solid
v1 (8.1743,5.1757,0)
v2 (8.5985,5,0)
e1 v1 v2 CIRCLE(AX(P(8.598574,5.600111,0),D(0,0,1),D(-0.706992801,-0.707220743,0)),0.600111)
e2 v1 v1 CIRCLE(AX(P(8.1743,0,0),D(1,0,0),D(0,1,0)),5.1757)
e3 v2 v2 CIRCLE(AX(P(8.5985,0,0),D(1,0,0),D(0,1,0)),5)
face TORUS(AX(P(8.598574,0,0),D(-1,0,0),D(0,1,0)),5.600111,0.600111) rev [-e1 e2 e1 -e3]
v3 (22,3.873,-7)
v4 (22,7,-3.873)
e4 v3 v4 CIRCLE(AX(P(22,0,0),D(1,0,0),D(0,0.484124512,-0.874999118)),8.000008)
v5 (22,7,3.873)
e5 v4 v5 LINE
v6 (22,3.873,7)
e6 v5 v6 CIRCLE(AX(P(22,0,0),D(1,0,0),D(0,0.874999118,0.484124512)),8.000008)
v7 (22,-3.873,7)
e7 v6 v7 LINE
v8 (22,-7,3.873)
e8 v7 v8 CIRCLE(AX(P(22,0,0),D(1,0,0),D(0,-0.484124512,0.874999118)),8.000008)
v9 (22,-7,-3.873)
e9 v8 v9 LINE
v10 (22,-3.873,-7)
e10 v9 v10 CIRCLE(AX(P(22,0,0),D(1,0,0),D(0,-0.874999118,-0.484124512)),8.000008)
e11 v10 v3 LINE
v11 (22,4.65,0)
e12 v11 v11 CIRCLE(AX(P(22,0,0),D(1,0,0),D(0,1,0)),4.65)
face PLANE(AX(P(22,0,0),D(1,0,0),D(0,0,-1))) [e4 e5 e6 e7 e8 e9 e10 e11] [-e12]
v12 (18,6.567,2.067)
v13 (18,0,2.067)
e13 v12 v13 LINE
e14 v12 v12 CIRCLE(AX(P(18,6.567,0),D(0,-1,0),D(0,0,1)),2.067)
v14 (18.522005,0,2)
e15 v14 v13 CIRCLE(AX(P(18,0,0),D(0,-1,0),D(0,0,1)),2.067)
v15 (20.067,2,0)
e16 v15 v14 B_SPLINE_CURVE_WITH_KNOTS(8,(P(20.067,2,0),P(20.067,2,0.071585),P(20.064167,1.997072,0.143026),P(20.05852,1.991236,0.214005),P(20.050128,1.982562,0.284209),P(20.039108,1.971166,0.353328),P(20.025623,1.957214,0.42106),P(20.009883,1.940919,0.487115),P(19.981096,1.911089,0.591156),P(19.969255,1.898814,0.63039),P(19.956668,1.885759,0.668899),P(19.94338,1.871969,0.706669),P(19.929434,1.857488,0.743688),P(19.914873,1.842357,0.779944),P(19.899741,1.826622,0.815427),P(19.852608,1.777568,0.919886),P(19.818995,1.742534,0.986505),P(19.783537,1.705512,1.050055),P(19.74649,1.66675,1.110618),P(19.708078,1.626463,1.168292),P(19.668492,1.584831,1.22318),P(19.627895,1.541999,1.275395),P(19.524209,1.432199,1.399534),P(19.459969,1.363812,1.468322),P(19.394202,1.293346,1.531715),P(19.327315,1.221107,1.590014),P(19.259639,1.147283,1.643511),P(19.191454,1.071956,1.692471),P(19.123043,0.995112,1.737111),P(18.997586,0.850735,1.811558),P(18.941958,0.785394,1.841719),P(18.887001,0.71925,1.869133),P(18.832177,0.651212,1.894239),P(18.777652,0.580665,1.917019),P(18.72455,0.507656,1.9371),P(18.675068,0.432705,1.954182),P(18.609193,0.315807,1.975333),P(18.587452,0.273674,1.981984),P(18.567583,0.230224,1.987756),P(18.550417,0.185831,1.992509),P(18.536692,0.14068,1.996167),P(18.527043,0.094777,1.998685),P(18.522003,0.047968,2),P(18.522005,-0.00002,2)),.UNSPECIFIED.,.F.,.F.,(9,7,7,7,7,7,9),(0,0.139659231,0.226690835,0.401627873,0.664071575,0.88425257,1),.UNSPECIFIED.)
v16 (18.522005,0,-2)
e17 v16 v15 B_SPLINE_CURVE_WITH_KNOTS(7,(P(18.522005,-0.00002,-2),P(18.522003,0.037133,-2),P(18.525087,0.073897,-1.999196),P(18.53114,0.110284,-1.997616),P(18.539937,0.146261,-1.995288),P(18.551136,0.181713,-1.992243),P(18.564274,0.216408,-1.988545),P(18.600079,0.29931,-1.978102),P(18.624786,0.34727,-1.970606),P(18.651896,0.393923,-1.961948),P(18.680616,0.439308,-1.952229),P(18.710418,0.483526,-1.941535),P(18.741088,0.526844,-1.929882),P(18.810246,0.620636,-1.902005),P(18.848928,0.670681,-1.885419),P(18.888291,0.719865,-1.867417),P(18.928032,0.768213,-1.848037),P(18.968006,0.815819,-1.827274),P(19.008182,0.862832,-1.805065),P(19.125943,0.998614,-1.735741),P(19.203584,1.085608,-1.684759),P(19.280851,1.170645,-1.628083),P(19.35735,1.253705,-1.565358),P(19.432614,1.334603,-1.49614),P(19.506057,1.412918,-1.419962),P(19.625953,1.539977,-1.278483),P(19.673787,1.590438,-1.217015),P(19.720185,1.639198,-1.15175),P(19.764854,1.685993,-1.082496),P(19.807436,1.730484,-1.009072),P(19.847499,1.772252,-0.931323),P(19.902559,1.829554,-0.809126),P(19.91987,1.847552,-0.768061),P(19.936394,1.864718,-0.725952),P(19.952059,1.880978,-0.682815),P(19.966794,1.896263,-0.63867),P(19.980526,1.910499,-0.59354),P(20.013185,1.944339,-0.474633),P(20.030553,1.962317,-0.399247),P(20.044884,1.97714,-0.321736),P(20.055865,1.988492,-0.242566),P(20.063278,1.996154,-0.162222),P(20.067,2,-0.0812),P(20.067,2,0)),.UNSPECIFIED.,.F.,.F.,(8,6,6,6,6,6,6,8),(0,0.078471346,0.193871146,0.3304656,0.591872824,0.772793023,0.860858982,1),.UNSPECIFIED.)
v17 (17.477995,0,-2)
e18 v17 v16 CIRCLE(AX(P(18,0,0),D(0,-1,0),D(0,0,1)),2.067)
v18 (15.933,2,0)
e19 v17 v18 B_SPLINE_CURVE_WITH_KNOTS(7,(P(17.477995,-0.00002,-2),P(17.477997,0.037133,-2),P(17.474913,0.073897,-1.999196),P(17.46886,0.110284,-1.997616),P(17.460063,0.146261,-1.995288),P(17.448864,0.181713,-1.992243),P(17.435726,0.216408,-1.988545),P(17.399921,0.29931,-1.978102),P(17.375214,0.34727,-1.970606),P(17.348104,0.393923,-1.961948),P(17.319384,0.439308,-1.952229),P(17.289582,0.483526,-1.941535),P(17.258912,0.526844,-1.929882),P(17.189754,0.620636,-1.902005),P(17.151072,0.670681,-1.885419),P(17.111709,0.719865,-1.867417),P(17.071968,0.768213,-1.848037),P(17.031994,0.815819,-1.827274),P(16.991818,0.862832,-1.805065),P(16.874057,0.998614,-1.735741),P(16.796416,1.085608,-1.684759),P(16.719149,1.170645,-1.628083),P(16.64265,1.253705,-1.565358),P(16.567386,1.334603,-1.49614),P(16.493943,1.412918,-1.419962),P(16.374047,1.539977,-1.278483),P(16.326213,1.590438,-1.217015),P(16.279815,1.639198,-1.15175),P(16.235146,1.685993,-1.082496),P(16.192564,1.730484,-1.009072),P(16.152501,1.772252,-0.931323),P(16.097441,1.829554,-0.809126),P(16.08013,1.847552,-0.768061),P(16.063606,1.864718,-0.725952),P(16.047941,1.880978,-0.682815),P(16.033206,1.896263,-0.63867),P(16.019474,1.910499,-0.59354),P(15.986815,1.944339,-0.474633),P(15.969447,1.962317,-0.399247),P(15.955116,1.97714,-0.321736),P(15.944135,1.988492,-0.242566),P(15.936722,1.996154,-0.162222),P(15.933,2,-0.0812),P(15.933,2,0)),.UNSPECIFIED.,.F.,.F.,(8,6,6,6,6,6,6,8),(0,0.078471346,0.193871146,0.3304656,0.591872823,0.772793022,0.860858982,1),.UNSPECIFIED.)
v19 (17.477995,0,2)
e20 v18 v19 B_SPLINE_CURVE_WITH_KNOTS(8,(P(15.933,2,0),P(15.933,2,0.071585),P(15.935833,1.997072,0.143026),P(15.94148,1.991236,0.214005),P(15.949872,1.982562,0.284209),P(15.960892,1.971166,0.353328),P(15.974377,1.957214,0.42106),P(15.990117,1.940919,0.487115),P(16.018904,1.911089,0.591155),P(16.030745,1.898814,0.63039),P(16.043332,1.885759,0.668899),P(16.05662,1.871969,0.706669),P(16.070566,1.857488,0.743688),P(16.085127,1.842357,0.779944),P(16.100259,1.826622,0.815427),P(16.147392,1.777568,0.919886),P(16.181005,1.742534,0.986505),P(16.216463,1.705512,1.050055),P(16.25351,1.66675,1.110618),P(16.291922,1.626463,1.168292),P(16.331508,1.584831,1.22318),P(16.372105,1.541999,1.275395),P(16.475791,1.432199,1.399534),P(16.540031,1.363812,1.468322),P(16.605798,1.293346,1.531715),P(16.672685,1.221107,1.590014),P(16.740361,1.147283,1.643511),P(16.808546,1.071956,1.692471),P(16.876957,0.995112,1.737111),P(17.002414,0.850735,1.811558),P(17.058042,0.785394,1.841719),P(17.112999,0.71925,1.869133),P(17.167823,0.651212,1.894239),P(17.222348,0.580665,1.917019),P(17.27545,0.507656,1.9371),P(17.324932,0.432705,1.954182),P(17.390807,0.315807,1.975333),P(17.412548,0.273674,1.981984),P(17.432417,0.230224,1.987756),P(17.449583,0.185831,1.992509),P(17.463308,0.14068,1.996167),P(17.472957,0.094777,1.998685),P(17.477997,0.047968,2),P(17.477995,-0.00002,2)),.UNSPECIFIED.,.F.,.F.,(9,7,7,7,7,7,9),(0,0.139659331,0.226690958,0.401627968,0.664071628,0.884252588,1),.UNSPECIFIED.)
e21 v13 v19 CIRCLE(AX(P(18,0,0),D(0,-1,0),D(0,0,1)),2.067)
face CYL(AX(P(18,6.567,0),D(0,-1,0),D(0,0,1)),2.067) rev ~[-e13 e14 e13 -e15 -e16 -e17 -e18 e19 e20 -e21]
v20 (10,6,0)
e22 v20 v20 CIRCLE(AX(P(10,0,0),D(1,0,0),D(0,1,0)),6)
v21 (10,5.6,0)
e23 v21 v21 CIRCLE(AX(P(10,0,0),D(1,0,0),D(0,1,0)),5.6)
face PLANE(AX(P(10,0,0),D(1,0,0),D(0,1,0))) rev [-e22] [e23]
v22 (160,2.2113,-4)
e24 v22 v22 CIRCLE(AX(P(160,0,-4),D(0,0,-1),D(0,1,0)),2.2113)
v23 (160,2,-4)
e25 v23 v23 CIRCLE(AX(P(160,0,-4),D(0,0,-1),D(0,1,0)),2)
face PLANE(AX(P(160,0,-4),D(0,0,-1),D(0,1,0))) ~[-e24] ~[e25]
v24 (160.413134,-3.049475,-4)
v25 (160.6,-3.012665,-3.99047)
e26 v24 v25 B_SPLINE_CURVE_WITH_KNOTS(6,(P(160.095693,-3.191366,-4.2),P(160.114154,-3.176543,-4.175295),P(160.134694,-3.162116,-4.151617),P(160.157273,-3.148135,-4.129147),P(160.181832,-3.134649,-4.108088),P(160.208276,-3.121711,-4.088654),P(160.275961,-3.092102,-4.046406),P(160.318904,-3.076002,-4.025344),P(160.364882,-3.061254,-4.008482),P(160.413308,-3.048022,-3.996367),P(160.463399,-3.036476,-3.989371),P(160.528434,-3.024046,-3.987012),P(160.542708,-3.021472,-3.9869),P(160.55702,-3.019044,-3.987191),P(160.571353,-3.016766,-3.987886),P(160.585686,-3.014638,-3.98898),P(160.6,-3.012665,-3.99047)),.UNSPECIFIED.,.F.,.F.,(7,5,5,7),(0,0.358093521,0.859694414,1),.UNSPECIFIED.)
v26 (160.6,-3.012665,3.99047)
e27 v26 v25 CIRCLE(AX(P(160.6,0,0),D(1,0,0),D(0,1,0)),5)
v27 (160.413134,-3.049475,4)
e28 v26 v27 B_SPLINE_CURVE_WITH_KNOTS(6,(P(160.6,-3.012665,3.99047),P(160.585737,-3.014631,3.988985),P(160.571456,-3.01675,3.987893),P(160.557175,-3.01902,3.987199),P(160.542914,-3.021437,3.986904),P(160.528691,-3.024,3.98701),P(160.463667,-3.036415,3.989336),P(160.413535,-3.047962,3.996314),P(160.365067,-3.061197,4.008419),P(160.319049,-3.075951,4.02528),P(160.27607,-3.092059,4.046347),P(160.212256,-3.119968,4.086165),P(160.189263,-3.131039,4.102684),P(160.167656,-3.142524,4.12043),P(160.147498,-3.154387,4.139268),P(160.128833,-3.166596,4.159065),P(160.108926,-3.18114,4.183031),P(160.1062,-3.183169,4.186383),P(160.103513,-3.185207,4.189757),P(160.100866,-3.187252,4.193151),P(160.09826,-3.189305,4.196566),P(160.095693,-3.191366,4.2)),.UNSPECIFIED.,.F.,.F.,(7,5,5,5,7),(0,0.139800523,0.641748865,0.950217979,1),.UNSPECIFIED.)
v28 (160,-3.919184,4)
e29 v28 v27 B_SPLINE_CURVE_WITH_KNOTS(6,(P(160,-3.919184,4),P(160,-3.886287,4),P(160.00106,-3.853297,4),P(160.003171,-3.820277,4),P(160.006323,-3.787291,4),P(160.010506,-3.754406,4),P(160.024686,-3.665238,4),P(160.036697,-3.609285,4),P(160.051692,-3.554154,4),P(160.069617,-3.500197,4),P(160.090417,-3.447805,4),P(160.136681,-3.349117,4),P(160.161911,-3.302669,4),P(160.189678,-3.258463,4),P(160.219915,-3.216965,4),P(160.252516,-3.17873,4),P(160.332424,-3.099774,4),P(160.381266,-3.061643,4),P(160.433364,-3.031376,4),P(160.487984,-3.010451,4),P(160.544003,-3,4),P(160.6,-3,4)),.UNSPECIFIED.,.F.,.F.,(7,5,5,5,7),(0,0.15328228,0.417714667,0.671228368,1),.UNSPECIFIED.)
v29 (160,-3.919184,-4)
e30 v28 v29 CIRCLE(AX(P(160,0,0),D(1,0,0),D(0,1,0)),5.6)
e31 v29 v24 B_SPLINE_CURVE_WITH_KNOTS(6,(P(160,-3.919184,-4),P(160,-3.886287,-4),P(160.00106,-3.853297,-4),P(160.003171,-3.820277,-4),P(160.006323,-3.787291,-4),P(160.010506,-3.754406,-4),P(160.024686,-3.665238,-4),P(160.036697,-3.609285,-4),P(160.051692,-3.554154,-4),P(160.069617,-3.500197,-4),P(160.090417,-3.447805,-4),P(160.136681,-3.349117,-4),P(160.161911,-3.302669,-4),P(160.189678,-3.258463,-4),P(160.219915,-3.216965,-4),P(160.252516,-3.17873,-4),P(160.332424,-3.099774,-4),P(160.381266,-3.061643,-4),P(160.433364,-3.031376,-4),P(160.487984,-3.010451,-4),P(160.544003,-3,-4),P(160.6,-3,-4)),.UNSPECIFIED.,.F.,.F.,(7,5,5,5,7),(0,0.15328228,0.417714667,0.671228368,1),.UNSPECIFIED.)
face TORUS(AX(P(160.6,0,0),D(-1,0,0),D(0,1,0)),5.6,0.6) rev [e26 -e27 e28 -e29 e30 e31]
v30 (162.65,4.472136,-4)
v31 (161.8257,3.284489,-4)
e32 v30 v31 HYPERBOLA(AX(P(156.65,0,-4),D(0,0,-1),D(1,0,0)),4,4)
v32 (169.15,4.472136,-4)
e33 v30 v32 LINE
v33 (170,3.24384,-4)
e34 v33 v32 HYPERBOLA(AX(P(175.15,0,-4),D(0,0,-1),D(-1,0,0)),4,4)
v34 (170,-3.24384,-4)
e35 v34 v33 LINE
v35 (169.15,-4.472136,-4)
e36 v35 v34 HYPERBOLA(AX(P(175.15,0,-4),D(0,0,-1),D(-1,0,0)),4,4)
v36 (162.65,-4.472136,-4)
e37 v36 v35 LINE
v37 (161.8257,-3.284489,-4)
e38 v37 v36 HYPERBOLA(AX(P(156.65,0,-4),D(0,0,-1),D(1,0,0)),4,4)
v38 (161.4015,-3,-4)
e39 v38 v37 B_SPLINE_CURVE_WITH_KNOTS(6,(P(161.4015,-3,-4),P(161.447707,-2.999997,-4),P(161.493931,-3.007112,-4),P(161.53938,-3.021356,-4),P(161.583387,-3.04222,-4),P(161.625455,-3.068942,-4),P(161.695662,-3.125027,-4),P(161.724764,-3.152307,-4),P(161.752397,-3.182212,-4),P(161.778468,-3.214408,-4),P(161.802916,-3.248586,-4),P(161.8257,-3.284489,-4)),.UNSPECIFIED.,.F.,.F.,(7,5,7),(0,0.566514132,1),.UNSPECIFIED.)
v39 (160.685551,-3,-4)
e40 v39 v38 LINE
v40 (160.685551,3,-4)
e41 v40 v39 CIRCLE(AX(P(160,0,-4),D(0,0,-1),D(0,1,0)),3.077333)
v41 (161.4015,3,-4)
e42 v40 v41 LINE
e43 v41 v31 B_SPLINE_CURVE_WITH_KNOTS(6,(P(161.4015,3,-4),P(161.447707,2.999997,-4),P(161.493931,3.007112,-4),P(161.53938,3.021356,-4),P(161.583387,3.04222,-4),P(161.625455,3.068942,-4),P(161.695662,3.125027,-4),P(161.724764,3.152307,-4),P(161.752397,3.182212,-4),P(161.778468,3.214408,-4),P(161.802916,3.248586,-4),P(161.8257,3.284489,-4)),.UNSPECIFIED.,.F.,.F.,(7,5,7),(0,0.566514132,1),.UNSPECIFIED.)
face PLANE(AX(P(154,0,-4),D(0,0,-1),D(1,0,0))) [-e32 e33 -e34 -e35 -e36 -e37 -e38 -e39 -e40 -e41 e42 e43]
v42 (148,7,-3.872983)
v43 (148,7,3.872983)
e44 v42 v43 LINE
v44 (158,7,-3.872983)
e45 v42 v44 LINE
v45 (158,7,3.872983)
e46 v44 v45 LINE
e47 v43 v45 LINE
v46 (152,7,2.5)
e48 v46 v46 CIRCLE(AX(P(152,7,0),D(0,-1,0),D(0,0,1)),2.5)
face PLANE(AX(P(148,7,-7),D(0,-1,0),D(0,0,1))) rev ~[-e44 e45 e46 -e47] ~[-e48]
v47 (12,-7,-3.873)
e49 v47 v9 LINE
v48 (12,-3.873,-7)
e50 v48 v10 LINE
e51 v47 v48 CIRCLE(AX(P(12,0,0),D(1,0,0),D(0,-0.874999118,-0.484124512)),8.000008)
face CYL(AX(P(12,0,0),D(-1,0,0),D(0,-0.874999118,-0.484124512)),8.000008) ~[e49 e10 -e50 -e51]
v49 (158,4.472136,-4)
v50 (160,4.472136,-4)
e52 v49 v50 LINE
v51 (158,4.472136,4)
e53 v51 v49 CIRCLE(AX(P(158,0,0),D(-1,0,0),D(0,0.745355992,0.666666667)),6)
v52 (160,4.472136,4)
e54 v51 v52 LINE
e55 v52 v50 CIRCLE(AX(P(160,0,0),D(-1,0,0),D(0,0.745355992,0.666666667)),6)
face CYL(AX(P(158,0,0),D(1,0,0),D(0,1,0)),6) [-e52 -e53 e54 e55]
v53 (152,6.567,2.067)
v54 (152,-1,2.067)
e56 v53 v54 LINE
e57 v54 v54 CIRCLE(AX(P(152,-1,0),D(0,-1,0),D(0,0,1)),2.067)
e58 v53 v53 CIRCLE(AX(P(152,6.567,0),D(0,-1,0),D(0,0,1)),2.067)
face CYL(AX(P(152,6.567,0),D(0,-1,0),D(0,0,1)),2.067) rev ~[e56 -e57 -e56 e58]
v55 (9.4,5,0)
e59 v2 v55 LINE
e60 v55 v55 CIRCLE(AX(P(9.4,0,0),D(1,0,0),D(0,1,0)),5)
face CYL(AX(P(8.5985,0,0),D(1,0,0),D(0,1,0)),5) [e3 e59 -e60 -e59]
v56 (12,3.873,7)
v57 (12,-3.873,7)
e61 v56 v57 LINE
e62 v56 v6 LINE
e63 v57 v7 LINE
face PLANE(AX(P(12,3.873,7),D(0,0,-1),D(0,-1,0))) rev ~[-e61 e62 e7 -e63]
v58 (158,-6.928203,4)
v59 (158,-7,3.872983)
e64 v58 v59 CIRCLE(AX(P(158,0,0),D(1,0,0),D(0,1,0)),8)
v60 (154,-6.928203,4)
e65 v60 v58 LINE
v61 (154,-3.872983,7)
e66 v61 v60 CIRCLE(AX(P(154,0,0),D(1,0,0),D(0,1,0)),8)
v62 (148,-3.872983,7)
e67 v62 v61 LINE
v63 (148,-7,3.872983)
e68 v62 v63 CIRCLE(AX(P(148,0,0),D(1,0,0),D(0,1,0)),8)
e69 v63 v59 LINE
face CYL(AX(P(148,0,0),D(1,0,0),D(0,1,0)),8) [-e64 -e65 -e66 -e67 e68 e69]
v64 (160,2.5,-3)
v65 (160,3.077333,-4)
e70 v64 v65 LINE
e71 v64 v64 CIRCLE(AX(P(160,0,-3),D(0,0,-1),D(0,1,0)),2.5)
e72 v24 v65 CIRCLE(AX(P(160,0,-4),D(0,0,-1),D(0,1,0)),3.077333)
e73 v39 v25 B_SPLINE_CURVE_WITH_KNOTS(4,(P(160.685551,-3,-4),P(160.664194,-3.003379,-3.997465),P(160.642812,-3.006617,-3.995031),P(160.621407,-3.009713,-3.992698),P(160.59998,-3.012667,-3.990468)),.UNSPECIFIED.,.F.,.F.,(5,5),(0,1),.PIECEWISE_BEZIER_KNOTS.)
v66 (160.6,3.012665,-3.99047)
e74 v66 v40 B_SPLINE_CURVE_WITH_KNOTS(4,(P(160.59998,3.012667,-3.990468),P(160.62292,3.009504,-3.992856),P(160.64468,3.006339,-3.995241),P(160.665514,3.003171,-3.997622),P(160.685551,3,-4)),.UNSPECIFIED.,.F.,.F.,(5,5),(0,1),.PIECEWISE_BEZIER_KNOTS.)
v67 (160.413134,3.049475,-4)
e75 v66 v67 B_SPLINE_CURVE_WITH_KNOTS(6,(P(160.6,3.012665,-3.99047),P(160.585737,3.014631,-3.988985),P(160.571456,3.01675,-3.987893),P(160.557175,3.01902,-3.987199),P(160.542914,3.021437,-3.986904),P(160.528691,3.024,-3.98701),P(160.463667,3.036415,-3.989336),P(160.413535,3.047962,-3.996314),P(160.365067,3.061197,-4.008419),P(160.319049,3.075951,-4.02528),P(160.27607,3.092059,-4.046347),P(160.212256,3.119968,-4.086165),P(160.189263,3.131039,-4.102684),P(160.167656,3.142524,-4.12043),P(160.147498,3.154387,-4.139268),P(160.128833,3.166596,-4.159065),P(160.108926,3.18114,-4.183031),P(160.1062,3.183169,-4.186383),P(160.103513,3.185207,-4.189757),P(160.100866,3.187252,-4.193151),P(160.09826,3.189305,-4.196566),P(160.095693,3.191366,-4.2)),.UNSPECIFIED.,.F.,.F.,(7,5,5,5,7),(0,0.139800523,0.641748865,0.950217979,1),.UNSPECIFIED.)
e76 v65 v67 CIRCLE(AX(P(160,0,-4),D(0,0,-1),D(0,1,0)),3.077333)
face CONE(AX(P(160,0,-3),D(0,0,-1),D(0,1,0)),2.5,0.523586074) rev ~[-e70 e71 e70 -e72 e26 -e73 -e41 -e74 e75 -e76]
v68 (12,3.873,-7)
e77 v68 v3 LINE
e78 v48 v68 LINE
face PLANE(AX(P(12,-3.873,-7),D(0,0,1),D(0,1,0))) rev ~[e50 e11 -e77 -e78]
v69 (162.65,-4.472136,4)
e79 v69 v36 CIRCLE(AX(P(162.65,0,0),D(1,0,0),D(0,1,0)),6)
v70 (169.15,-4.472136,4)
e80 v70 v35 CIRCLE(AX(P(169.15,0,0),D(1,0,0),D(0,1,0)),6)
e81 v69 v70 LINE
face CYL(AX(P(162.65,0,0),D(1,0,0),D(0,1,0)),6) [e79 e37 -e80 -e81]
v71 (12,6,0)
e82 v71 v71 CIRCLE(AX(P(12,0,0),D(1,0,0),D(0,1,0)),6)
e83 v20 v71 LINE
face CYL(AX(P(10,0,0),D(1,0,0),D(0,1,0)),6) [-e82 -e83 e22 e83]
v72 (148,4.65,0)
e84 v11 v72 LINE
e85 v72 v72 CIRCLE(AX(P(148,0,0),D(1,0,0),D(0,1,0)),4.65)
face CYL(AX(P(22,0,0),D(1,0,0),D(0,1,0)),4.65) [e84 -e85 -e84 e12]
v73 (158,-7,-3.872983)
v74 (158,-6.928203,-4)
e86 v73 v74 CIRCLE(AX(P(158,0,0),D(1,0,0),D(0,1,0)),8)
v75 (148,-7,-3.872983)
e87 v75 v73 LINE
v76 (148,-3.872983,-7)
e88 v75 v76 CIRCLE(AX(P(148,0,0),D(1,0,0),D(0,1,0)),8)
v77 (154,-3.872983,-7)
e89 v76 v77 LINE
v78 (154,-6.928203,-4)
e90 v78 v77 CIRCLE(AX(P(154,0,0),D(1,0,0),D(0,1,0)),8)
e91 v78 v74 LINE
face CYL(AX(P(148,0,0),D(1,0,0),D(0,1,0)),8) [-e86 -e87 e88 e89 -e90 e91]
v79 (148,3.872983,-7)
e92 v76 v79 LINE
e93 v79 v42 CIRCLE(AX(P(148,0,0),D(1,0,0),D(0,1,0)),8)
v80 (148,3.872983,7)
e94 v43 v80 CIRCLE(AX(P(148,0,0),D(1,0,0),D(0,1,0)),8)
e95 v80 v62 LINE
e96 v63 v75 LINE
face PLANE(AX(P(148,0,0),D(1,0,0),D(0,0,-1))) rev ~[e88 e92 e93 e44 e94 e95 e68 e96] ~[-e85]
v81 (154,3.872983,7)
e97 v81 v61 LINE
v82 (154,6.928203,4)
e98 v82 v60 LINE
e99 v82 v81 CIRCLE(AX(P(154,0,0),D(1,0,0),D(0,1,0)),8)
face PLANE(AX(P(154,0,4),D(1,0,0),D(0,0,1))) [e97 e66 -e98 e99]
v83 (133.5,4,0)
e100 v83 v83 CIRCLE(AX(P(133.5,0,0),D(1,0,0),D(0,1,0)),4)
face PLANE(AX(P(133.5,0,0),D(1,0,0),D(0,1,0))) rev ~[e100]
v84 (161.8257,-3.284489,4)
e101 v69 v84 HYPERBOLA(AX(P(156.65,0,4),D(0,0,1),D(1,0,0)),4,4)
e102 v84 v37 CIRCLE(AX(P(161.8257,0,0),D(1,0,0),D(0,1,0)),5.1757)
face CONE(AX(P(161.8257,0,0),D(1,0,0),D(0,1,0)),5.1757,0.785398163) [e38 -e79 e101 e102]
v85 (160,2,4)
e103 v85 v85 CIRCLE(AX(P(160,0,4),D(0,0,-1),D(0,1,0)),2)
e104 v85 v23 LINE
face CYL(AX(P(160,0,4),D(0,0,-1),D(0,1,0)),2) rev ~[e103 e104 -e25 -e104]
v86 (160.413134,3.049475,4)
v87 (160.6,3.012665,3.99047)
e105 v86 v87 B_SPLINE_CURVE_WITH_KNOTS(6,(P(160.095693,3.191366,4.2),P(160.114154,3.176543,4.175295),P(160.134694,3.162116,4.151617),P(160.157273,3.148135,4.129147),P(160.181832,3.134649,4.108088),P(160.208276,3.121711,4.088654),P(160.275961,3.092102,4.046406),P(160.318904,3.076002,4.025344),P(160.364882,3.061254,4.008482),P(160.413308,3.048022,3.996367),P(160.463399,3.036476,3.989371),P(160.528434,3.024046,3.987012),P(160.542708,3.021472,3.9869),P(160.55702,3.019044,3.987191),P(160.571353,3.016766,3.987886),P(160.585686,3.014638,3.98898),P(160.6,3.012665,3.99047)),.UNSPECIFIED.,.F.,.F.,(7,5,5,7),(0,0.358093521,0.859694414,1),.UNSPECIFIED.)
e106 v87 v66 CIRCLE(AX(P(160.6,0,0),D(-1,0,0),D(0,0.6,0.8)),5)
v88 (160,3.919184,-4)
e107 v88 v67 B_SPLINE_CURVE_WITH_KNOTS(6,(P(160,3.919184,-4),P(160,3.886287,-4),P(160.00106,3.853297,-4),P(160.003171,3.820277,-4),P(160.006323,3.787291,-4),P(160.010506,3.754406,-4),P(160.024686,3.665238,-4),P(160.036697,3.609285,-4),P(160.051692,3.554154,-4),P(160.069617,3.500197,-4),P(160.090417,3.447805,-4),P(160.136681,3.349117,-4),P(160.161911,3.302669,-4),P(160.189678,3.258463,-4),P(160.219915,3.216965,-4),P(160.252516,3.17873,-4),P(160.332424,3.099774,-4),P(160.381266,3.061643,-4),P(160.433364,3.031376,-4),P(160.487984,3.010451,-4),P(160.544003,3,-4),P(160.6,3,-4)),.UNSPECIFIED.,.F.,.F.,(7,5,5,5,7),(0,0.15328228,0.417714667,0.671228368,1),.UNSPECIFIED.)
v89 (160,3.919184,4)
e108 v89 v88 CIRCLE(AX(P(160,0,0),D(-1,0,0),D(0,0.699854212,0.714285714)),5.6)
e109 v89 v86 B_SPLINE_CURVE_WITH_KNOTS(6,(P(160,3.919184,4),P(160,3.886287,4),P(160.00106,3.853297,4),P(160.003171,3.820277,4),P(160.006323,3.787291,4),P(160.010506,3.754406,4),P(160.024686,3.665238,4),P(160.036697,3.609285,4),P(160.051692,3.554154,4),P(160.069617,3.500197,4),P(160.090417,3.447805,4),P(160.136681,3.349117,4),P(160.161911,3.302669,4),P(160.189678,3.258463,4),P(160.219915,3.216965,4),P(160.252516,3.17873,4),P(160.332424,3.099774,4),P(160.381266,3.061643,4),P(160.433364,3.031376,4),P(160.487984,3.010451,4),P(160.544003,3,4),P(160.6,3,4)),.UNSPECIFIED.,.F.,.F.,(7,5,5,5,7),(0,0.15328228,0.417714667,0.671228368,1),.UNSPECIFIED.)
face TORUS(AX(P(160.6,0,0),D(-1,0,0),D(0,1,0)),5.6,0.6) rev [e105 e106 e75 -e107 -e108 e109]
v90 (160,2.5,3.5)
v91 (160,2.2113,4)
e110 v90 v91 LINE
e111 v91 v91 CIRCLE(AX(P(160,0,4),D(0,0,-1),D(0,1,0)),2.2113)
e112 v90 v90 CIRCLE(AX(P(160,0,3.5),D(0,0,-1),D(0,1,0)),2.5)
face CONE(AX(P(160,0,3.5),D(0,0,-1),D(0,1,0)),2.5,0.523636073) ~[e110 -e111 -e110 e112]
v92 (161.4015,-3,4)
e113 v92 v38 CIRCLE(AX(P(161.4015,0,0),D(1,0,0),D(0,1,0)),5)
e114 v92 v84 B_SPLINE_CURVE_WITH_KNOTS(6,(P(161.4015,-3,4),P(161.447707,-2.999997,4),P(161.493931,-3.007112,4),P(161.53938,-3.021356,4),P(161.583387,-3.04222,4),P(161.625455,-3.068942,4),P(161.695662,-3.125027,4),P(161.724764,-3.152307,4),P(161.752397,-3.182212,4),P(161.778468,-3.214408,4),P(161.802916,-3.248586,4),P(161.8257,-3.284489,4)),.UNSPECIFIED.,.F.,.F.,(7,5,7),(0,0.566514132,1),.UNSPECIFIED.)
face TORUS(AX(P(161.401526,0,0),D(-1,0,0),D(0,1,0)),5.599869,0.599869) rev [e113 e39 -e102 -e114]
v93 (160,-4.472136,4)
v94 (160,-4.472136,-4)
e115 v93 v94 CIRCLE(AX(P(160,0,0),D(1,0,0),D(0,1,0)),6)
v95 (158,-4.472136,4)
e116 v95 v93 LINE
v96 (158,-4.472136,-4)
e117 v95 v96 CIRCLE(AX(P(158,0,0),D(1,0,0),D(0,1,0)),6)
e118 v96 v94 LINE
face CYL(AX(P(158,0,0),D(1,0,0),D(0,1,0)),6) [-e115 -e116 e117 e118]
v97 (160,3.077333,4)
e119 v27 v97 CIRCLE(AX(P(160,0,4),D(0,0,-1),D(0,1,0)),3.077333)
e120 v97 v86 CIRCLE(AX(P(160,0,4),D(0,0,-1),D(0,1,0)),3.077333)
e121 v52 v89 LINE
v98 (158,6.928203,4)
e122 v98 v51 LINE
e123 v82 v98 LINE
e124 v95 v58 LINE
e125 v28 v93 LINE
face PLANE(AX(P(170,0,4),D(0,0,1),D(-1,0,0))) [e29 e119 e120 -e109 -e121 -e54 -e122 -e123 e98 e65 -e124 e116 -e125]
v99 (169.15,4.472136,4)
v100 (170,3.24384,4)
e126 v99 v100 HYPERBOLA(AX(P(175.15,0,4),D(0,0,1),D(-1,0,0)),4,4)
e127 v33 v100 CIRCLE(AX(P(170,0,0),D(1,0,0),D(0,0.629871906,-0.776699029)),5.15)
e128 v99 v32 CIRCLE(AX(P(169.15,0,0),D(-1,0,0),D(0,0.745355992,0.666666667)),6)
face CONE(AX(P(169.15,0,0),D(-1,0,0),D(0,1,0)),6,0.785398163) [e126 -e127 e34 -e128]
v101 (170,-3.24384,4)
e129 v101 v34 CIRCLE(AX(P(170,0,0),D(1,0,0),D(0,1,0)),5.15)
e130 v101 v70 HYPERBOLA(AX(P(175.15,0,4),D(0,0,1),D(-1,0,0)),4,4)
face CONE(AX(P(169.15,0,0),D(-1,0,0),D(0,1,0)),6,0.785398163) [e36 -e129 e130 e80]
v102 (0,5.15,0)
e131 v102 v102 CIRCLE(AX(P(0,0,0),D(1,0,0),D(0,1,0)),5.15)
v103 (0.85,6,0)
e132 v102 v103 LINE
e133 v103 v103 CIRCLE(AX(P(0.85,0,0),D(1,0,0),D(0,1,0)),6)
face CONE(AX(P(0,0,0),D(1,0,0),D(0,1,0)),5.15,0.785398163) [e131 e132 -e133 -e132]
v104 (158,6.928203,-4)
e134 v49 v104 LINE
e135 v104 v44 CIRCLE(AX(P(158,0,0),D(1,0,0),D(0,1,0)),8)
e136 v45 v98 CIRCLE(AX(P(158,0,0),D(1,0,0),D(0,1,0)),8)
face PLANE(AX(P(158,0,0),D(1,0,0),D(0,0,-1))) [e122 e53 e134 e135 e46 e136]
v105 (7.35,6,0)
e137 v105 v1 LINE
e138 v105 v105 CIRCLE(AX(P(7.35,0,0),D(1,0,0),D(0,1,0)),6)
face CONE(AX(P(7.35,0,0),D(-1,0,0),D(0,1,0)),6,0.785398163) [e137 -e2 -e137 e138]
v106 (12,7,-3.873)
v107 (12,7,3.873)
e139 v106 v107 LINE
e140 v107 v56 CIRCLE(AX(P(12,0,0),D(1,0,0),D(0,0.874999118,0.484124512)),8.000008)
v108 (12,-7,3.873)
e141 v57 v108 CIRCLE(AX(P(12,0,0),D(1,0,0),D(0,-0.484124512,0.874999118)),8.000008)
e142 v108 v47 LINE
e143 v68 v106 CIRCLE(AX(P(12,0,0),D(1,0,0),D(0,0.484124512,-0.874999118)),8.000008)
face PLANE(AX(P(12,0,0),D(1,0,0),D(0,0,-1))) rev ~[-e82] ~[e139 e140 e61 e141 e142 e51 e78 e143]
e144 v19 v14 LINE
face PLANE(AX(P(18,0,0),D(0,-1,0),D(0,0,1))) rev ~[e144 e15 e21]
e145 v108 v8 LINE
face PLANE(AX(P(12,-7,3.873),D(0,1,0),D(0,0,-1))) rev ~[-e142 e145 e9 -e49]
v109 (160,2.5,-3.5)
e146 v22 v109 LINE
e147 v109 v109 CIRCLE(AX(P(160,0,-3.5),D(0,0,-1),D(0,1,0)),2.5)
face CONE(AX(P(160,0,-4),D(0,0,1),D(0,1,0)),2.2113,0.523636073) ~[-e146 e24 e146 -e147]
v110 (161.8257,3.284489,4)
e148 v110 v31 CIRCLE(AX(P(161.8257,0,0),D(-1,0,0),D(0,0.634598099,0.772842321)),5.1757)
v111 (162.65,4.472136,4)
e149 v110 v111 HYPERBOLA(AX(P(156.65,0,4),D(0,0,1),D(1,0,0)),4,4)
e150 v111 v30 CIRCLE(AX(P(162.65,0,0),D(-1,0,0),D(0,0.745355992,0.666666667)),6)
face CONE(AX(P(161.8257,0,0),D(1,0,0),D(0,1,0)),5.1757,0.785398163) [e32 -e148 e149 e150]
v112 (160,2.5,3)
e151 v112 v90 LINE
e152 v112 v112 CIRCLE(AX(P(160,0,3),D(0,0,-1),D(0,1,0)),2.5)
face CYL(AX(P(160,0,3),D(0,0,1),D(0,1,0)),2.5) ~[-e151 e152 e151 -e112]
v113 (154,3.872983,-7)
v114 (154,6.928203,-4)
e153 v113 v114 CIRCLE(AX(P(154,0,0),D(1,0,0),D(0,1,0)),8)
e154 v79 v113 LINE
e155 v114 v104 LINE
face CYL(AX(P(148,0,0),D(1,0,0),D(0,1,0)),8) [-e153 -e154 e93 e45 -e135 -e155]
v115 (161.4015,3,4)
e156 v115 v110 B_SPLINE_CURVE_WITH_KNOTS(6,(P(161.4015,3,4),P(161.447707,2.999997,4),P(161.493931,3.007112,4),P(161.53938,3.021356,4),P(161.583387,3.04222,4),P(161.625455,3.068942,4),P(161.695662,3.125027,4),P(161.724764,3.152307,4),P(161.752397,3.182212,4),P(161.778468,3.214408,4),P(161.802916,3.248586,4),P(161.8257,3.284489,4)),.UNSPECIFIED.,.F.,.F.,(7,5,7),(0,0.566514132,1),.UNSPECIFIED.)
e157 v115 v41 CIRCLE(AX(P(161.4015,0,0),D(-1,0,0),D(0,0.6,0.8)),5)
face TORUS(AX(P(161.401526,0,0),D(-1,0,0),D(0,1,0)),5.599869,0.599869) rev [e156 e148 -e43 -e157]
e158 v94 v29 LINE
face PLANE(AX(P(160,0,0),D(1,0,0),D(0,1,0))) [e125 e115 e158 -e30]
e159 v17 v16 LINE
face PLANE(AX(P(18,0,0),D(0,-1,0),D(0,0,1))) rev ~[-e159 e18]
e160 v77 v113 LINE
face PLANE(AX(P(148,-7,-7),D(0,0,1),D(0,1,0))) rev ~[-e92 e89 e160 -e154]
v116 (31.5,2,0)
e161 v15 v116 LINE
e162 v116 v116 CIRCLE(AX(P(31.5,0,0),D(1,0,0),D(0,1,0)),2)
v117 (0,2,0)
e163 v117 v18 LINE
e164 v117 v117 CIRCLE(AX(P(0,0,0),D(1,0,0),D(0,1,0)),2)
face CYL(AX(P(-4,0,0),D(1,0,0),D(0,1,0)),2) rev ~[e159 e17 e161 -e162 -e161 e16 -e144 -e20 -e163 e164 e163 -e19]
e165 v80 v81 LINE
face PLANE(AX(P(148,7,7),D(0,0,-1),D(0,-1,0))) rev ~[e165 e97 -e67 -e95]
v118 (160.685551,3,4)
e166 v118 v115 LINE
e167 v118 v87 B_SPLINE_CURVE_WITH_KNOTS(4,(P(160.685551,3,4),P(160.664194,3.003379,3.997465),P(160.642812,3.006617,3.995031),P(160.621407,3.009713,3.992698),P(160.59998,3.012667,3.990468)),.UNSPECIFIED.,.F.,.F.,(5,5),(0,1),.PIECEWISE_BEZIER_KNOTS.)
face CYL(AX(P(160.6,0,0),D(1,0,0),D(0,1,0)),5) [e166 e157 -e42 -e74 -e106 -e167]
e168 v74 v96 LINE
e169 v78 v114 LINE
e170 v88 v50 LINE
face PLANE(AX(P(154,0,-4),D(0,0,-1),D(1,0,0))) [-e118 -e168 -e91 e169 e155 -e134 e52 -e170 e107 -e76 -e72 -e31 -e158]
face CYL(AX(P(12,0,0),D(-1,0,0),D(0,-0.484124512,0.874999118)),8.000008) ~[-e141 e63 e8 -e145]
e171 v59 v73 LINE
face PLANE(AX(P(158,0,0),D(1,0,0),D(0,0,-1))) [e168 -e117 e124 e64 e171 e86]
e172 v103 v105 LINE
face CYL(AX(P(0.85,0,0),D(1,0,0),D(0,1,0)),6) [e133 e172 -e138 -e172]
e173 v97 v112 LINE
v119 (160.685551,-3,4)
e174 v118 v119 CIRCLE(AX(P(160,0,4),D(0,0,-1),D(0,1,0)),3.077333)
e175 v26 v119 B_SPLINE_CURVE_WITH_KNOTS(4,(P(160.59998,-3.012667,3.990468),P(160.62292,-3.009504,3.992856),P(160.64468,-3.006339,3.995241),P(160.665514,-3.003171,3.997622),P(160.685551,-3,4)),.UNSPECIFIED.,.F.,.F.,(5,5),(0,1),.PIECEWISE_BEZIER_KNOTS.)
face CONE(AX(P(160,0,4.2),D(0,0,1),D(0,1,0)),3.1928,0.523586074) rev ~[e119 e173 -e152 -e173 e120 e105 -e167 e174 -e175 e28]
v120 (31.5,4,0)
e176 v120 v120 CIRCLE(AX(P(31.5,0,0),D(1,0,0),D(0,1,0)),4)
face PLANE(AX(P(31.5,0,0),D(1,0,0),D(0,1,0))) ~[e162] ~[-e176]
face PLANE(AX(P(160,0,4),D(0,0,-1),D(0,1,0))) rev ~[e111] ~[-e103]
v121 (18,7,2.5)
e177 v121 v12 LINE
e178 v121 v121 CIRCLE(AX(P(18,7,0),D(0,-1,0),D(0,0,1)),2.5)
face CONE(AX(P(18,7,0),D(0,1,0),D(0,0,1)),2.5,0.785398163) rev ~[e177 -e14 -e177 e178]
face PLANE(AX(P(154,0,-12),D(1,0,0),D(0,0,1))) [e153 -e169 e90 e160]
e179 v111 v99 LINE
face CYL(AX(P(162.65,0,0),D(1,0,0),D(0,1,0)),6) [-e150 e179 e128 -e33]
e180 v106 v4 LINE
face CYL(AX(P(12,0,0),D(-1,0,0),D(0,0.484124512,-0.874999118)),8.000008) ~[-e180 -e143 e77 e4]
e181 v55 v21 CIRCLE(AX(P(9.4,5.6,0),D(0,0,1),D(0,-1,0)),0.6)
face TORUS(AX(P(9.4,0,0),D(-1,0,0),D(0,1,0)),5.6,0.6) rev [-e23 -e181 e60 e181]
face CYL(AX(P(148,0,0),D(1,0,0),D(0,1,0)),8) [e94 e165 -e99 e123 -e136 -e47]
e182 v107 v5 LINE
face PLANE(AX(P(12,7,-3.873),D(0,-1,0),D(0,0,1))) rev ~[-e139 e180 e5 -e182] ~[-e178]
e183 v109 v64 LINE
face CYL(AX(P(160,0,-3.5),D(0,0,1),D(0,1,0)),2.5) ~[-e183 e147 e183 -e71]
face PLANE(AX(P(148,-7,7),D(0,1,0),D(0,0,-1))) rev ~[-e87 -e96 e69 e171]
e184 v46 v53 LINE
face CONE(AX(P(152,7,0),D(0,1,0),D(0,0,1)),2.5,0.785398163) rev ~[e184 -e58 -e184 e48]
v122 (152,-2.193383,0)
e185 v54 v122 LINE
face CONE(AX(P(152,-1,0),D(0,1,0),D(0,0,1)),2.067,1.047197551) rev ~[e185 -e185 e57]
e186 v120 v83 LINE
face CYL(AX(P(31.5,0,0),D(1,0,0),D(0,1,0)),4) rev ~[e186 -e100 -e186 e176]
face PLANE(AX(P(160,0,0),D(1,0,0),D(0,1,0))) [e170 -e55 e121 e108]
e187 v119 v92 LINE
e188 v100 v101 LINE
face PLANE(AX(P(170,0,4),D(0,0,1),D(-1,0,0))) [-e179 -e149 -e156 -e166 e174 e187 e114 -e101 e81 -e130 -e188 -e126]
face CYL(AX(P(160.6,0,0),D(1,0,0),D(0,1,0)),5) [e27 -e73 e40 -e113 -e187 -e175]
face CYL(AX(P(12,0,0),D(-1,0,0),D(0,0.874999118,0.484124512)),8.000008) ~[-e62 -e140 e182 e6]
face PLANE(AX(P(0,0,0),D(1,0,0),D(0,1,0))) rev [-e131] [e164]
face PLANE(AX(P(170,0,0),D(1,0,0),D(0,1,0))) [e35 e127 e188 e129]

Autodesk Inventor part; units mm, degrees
sketch "Sketch_1" plane through (0, 0, 0) normal (0, 0, 1) x (1, 0, 0)
  line L0 (12, 0) -> (0, 0)
  line L1 (0, 0) -> (0, 5.15)
  line L2 (0, 5.15) -> (0.85, 6)
  line L3 (0.85, 6) -> (7.35, 6)
  line L4 (7.35, 6) -> (8.1743, 5.1757)
  arc A0 (8.1743, 5.1757) -> (8.5985, 5) centre (8.5985, 5.6) ccw
  line L5 (8.5985, 5) -> (9.4, 5)
  arc A1 (9.4, 5) -> (10, 5.6) centre (9.4, 5.6) ccw
  line L6 (10, 5.6) -> (10, 6)
  line L7 (10, 6) -> (12, 6)
  line L8 (12, 6) -> (12, 0)
  line L9 (12, 0) -> (0, 0)
revolve "Revolution1" add sketch "Sketch_1" angle 360 about axis through (12, 0, 0) along (1, 0, 0)
thread "Thread1" size "M12x1.25" class "6g" standard "ISO Metric profile" full length
sketch "Sketch_2" plane through (12, 0, 0) normal (1, 0, 0) x (0, 0, -1)
  arc A0 (-7, -3.873) -> (-3.873, -7) centre (0, 0) ccw
  line L0 (-3.873, -7) -> (3.873, -7)
  arc A1 (3.873, -7) -> (7, -3.873) centre (0, 0) ccw
  line L1 (7, -3.873) -> (7, 3.873)
  arc A2 (7, 3.873) -> (3.873, 7) centre (0, 0) ccw
  line L2 (3.873, 7) -> (-3.873, 7)
  arc A3 (-3.873, 7) -> (-7, 3.873) centre (0, 0) ccw
  line L3 (-7, 3.873) -> (-7, -3.873)
extrude "Extrusion1" add sketch "Sketch_2" along normal blind 10
sketch "Sketch_3" plane through (0, 0, 0) normal (0, 0, 1) x (1, 0, 0)
  line L0 (148, 0) -> (22, 0)
  line L1 (22, 0) -> (22, 4.65)
  line L2 (22, 4.65) -> (148, 4.65)
  line L3 (148, 4.65) -> (148, 0)
  line L4 (148, 0) -> (22, 0)
revolve "Revolution2" add sketch "Sketch_3" angle 360 about axis through (148, 0, 0) along (1, 0, 0)
sketch "Sketch_16" plane through (148, 0, 0) normal (1, 0, 0) x (0, 0, -1)
  line L0 (-7, -7) -> (7, -7)
  line L1 (7, -7) -> (7, 7)
  line L2 (7, 7) -> (-7, 7)
  line L3 (-7, 7) -> (-7, -7)
extrude "Extrusion2" add sketch "Sketch_16" along normal blind 10
sketch "Sketch_124" plane through (0, 0, 0) normal (0, 0, 1) x (1, 0, 0)
  line L0 (158, 0) -> (148, 0)
  line L1 (148, 18) -> (148, 8)
  line L2 (148, 8) -> (158, 8)
  line L3 (158, 8) -> (158, 18)
  line L4 (158, 18) -> (148, 18)
revolve "Revolution3" cut sketch "Sketch_124" angle 360 about axis through (158, 0, 0) along (1, 0, 0)
sketch "Sketch_23" plane through (0, 0, 0) normal (0, 0, 1) x (1, 0, 0)
  line L0 (170, 0) -> (158, 0)
  line L1 (158, 0) -> (158, 6)
  line L2 (158, 6) -> (160, 6)
  line L3 (160, 6) -> (160, 5.6)
  arc A0 (160, 5.6) -> (160.6, 5) centre (160.6, 5.6) ccw
  line L4 (160.6, 5) -> (161.4015, 5)
  arc A1 (161.4015, 5) -> (161.8257, 5.1757) centre (161.4015, 5.6) ccw
  line L5 (161.8257, 5.1757) -> (162.65, 6)
  line L6 (162.65, 6) -> (169.15, 6)
  line L7 (169.15, 6) -> (170, 5.15)
  line L8 (170, 5.15) -> (170, 0)
  line L9 (170, 0) -> (158, 0)
revolve "Revolution4" add sketch "Sketch_23" angle 360 about axis through (170, 0, 0) along (1, 0, 0)
thread "Thread2" size "M12x1.25" class "6g" standard "ISO Metric profile" full length
sketch "Sketch_6" plane through (0, 0, 0) normal (0, 1, 0) x (-1, 0, 0)
  line L0 (-154, -12) -> (-154, -4)
  line L1 (-154, -4) -> (-170, -4)
  line L2 (-170, -4) -> (-170, 4)
  line L3 (-170, 4) -> (-154, 4)
  line L4 (-154, 4) -> (-154, 12)
  line L5 (-154, 12) -> (-178, 12)
  line L6 (-178, 12) -> (-178, -12)
  line L7 (-178, -12) -> (-154, -12)
extrude "Extrusion3" cut sketch "Sketch_6" along normal mid plane 16
sketch "Sketch_147" plane through (160, 0, 0) normal (1, 0, 0) x (0, 0, -1)
  line L0 (4, 0) -> (-4.2, 0)
  line L1 (-4.2, 0) -> (-4.2, 3.1928)
  line L2 (-4.2, 3.1928) -> (-3, 2.5)
  line L3 (-3, 2.5) -> (-3.5, 2.5)
  line L4 (-3.5, 2.5) -> (-4, 2.2113)
  line L5 (-4, 2.2113) -> (-4, 2)
  line L6 (-4, 2) -> (4, 2)
  line L7 (4, 2) -> (4, 2.2113)
  line L8 (4, 2.2113) -> (3.5, 2.5)
  line L9 (3.5, 2.5) -> (3, 2.5)
  line L10 (3, 2.5) -> (4.2, 3.1928)
  line L11 (4.2, 3.1928) -> (4.2, 0)
  line L12 (4.2, 0) -> (-4.2, 0)
revolve "Revolution5" cut sketch "Sketch_147" angle 360 about axis through (160, 0, -4) along (0, 0, -1)
sketch "Sketch9" plane through (12, 7, 3.873) normal (0, 1, 0) x (1, 0, 0)
  point P0 (6, 3.873)
hole "Hole1" at (18, 7, 0) direction (0, -1, 0) diameter 4.134 depth 7 countersink diameter 5 countersink angle 90 thread size "M5x0.8" class "6H" standard "ISO Metric profile"
sketch "Sketch10" plane through (148, 7, 3.873) normal (0, 1, 0) x (1, 0, 0)
  point P0 (4, 3.873)
hole "Hole2" at (152, 7, 0) direction (0, -1, 0) diameter 4.134 depth 8 tip angle 120 countersink diameter 5 countersink angle 90 thread size "M5x0.8" class "6H" standard "ISO Metric profile"
sketch "Sketch_64" plane through (0, 0, 0) normal (0, 0, 1) x (1, 0, 0)
  line L0 (133.5, 0) -> (-4, 0)
  line L1 (-4, 0) -> (-4, 2)
  line L2 (-4, 2) -> (31.5, 2)
  line L3 (31.5, 2) -> (31.5, 4)
  line L4 (31.5, 4) -> (133.5, 4)
  line L5 (133.5, 4) -> (133.5, 0)
  line L6 (133.5, 0) -> (-4, 0)
revolve "Revolution6" cut sketch "Sketch_64" angle 360 about axis through (133.5, 0, 0) along (1, 0, 0)
ref_plane "FDT_FRONT_XY" through (12, 0, 0) normal (1, 0, 0) x (0, 0, -1)
ref_plane "FDT_FRONT_YZ" through (12, 0, 0) normal (0, 0, -1) x (0, 1, 0)
ref_plane "FDT_FRONT_ZX" through (12, 0, 0) normal (0, 1, 0) x (1, 0, 0)
ref_plane "FDT_QSFRONT_XY" through (18, 7, 0) normal (0, 1, 0) x (0, 0, 1)
ref_plane "FDT_QSFRONT_YZ" through (18, 7, 0) normal (0, 0, 1) x (1, 0, 0)
ref_plane "FDT_QSFRONT_ZX" through (18, 7, 0) normal (1, 0, 0) x (0, 1, 0)
ref_plane "FDT_QSREAR_XY" through (152, 7, 0) normal (0, 1, 0) x (0, 0, 1)
ref_plane "FDT_QSREAR_YZ" through (152, 7, 0) normal (0, 0, 1) x (1, 0, 0)
ref_plane "FDT_QSREAR_ZX" through (152, 7, 0) normal (1, 0, 0) x (0, 1, 0)
ref_plane "FDT_REAR_XY" through (158, 0, 0) normal (-1, 0, 0) x (0, 0, -1)
ref_plane "FDT_REAR_YZ" through (158, 0, 0) normal (0, 0, -1) x (0, -1, 0)
ref_plane "FDT_REAR_ZX" through (158, 0, 0) normal (0, -1, 0) x (-1, 0, 0)
ref_plane "FDT_SMBR1_XY" through (31.5, 0, 0) normal (-1, 0, 0) x (0, 0, 1)
ref_plane "FDT_SMBR1_YZ" through (31.5, 0, 0) normal (0, 0, 1) x (0, 1, 0)
ref_plane "FDT_SMBR1_ZX" through (31.5, 0, 0) normal (0, 1, 0) x (-1, 0, 0)
ref_plane "FDT_SMBR2_XY" through (138.5, 0, 0) normal (-1, 0, 0) x (0, 0, 1)
ref_plane "FDT_SMBR2_YZ" through (138.5, 0, 0) normal (0, 0, 1) x (0, 1, 0)
ref_plane "FDT_SMBR2_ZX" through (138.5, 0, 0) normal (0, 1, 0) x (-1, 0, 0)
ref_plane "FDT_SWIVELAXIS_XY" through (160, 0, 0) normal (0, 0, 1) x (1, 0, 0)
ref_plane "FDT_SWIVELAXIS_YZ" through (160, 0, 0) normal (1, 0, 0) x (0, 1, 0)
ref_plane "FDT_SWIVELAXIS_ZX" through (160, 0, 0) normal (0, 1, 0) x (0, 0, 1)
ref_plane "NUT_XY" through (6, 0, 0) normal (1, 0, 0) x (0, 0, -1)
ref_plane "NUT_YZ" through (6, 0, 0) normal (0, 0, -1) x (0, 1, 0)
ref_plane "NUT_ZX" through (6, 0, 0) normal (0, 1, 0) x (1, 0, 0)
ref_plane "ZR_XY" through (0, 0, 0) normal (-1, 0, 0) x (0, 0, -1)
ref_plane "ZR_YZ" through (0, 0, 0) normal (0, 0, -1) x (0, -1, 0)
ref_plane "ZR_ZX" through (0, 0, 0) normal (0, -1, 0) x (-1, 0, 0)
ref_plane "ZYL_XY" through (12, 0, 0) normal (1, 0, 0) x (0, 0, -1)
ref_plane "ZYL_YZ" through (12, 0, 0) normal (0, 0, -1) x (0, 1, 0)
ref_plane "ZYL_ZX" through (12, 0, 0) normal (0, 1, 0) x (1, 0, 0)
properties part number "19182 DSNU-8-100-P---(A----0-ZR)"
